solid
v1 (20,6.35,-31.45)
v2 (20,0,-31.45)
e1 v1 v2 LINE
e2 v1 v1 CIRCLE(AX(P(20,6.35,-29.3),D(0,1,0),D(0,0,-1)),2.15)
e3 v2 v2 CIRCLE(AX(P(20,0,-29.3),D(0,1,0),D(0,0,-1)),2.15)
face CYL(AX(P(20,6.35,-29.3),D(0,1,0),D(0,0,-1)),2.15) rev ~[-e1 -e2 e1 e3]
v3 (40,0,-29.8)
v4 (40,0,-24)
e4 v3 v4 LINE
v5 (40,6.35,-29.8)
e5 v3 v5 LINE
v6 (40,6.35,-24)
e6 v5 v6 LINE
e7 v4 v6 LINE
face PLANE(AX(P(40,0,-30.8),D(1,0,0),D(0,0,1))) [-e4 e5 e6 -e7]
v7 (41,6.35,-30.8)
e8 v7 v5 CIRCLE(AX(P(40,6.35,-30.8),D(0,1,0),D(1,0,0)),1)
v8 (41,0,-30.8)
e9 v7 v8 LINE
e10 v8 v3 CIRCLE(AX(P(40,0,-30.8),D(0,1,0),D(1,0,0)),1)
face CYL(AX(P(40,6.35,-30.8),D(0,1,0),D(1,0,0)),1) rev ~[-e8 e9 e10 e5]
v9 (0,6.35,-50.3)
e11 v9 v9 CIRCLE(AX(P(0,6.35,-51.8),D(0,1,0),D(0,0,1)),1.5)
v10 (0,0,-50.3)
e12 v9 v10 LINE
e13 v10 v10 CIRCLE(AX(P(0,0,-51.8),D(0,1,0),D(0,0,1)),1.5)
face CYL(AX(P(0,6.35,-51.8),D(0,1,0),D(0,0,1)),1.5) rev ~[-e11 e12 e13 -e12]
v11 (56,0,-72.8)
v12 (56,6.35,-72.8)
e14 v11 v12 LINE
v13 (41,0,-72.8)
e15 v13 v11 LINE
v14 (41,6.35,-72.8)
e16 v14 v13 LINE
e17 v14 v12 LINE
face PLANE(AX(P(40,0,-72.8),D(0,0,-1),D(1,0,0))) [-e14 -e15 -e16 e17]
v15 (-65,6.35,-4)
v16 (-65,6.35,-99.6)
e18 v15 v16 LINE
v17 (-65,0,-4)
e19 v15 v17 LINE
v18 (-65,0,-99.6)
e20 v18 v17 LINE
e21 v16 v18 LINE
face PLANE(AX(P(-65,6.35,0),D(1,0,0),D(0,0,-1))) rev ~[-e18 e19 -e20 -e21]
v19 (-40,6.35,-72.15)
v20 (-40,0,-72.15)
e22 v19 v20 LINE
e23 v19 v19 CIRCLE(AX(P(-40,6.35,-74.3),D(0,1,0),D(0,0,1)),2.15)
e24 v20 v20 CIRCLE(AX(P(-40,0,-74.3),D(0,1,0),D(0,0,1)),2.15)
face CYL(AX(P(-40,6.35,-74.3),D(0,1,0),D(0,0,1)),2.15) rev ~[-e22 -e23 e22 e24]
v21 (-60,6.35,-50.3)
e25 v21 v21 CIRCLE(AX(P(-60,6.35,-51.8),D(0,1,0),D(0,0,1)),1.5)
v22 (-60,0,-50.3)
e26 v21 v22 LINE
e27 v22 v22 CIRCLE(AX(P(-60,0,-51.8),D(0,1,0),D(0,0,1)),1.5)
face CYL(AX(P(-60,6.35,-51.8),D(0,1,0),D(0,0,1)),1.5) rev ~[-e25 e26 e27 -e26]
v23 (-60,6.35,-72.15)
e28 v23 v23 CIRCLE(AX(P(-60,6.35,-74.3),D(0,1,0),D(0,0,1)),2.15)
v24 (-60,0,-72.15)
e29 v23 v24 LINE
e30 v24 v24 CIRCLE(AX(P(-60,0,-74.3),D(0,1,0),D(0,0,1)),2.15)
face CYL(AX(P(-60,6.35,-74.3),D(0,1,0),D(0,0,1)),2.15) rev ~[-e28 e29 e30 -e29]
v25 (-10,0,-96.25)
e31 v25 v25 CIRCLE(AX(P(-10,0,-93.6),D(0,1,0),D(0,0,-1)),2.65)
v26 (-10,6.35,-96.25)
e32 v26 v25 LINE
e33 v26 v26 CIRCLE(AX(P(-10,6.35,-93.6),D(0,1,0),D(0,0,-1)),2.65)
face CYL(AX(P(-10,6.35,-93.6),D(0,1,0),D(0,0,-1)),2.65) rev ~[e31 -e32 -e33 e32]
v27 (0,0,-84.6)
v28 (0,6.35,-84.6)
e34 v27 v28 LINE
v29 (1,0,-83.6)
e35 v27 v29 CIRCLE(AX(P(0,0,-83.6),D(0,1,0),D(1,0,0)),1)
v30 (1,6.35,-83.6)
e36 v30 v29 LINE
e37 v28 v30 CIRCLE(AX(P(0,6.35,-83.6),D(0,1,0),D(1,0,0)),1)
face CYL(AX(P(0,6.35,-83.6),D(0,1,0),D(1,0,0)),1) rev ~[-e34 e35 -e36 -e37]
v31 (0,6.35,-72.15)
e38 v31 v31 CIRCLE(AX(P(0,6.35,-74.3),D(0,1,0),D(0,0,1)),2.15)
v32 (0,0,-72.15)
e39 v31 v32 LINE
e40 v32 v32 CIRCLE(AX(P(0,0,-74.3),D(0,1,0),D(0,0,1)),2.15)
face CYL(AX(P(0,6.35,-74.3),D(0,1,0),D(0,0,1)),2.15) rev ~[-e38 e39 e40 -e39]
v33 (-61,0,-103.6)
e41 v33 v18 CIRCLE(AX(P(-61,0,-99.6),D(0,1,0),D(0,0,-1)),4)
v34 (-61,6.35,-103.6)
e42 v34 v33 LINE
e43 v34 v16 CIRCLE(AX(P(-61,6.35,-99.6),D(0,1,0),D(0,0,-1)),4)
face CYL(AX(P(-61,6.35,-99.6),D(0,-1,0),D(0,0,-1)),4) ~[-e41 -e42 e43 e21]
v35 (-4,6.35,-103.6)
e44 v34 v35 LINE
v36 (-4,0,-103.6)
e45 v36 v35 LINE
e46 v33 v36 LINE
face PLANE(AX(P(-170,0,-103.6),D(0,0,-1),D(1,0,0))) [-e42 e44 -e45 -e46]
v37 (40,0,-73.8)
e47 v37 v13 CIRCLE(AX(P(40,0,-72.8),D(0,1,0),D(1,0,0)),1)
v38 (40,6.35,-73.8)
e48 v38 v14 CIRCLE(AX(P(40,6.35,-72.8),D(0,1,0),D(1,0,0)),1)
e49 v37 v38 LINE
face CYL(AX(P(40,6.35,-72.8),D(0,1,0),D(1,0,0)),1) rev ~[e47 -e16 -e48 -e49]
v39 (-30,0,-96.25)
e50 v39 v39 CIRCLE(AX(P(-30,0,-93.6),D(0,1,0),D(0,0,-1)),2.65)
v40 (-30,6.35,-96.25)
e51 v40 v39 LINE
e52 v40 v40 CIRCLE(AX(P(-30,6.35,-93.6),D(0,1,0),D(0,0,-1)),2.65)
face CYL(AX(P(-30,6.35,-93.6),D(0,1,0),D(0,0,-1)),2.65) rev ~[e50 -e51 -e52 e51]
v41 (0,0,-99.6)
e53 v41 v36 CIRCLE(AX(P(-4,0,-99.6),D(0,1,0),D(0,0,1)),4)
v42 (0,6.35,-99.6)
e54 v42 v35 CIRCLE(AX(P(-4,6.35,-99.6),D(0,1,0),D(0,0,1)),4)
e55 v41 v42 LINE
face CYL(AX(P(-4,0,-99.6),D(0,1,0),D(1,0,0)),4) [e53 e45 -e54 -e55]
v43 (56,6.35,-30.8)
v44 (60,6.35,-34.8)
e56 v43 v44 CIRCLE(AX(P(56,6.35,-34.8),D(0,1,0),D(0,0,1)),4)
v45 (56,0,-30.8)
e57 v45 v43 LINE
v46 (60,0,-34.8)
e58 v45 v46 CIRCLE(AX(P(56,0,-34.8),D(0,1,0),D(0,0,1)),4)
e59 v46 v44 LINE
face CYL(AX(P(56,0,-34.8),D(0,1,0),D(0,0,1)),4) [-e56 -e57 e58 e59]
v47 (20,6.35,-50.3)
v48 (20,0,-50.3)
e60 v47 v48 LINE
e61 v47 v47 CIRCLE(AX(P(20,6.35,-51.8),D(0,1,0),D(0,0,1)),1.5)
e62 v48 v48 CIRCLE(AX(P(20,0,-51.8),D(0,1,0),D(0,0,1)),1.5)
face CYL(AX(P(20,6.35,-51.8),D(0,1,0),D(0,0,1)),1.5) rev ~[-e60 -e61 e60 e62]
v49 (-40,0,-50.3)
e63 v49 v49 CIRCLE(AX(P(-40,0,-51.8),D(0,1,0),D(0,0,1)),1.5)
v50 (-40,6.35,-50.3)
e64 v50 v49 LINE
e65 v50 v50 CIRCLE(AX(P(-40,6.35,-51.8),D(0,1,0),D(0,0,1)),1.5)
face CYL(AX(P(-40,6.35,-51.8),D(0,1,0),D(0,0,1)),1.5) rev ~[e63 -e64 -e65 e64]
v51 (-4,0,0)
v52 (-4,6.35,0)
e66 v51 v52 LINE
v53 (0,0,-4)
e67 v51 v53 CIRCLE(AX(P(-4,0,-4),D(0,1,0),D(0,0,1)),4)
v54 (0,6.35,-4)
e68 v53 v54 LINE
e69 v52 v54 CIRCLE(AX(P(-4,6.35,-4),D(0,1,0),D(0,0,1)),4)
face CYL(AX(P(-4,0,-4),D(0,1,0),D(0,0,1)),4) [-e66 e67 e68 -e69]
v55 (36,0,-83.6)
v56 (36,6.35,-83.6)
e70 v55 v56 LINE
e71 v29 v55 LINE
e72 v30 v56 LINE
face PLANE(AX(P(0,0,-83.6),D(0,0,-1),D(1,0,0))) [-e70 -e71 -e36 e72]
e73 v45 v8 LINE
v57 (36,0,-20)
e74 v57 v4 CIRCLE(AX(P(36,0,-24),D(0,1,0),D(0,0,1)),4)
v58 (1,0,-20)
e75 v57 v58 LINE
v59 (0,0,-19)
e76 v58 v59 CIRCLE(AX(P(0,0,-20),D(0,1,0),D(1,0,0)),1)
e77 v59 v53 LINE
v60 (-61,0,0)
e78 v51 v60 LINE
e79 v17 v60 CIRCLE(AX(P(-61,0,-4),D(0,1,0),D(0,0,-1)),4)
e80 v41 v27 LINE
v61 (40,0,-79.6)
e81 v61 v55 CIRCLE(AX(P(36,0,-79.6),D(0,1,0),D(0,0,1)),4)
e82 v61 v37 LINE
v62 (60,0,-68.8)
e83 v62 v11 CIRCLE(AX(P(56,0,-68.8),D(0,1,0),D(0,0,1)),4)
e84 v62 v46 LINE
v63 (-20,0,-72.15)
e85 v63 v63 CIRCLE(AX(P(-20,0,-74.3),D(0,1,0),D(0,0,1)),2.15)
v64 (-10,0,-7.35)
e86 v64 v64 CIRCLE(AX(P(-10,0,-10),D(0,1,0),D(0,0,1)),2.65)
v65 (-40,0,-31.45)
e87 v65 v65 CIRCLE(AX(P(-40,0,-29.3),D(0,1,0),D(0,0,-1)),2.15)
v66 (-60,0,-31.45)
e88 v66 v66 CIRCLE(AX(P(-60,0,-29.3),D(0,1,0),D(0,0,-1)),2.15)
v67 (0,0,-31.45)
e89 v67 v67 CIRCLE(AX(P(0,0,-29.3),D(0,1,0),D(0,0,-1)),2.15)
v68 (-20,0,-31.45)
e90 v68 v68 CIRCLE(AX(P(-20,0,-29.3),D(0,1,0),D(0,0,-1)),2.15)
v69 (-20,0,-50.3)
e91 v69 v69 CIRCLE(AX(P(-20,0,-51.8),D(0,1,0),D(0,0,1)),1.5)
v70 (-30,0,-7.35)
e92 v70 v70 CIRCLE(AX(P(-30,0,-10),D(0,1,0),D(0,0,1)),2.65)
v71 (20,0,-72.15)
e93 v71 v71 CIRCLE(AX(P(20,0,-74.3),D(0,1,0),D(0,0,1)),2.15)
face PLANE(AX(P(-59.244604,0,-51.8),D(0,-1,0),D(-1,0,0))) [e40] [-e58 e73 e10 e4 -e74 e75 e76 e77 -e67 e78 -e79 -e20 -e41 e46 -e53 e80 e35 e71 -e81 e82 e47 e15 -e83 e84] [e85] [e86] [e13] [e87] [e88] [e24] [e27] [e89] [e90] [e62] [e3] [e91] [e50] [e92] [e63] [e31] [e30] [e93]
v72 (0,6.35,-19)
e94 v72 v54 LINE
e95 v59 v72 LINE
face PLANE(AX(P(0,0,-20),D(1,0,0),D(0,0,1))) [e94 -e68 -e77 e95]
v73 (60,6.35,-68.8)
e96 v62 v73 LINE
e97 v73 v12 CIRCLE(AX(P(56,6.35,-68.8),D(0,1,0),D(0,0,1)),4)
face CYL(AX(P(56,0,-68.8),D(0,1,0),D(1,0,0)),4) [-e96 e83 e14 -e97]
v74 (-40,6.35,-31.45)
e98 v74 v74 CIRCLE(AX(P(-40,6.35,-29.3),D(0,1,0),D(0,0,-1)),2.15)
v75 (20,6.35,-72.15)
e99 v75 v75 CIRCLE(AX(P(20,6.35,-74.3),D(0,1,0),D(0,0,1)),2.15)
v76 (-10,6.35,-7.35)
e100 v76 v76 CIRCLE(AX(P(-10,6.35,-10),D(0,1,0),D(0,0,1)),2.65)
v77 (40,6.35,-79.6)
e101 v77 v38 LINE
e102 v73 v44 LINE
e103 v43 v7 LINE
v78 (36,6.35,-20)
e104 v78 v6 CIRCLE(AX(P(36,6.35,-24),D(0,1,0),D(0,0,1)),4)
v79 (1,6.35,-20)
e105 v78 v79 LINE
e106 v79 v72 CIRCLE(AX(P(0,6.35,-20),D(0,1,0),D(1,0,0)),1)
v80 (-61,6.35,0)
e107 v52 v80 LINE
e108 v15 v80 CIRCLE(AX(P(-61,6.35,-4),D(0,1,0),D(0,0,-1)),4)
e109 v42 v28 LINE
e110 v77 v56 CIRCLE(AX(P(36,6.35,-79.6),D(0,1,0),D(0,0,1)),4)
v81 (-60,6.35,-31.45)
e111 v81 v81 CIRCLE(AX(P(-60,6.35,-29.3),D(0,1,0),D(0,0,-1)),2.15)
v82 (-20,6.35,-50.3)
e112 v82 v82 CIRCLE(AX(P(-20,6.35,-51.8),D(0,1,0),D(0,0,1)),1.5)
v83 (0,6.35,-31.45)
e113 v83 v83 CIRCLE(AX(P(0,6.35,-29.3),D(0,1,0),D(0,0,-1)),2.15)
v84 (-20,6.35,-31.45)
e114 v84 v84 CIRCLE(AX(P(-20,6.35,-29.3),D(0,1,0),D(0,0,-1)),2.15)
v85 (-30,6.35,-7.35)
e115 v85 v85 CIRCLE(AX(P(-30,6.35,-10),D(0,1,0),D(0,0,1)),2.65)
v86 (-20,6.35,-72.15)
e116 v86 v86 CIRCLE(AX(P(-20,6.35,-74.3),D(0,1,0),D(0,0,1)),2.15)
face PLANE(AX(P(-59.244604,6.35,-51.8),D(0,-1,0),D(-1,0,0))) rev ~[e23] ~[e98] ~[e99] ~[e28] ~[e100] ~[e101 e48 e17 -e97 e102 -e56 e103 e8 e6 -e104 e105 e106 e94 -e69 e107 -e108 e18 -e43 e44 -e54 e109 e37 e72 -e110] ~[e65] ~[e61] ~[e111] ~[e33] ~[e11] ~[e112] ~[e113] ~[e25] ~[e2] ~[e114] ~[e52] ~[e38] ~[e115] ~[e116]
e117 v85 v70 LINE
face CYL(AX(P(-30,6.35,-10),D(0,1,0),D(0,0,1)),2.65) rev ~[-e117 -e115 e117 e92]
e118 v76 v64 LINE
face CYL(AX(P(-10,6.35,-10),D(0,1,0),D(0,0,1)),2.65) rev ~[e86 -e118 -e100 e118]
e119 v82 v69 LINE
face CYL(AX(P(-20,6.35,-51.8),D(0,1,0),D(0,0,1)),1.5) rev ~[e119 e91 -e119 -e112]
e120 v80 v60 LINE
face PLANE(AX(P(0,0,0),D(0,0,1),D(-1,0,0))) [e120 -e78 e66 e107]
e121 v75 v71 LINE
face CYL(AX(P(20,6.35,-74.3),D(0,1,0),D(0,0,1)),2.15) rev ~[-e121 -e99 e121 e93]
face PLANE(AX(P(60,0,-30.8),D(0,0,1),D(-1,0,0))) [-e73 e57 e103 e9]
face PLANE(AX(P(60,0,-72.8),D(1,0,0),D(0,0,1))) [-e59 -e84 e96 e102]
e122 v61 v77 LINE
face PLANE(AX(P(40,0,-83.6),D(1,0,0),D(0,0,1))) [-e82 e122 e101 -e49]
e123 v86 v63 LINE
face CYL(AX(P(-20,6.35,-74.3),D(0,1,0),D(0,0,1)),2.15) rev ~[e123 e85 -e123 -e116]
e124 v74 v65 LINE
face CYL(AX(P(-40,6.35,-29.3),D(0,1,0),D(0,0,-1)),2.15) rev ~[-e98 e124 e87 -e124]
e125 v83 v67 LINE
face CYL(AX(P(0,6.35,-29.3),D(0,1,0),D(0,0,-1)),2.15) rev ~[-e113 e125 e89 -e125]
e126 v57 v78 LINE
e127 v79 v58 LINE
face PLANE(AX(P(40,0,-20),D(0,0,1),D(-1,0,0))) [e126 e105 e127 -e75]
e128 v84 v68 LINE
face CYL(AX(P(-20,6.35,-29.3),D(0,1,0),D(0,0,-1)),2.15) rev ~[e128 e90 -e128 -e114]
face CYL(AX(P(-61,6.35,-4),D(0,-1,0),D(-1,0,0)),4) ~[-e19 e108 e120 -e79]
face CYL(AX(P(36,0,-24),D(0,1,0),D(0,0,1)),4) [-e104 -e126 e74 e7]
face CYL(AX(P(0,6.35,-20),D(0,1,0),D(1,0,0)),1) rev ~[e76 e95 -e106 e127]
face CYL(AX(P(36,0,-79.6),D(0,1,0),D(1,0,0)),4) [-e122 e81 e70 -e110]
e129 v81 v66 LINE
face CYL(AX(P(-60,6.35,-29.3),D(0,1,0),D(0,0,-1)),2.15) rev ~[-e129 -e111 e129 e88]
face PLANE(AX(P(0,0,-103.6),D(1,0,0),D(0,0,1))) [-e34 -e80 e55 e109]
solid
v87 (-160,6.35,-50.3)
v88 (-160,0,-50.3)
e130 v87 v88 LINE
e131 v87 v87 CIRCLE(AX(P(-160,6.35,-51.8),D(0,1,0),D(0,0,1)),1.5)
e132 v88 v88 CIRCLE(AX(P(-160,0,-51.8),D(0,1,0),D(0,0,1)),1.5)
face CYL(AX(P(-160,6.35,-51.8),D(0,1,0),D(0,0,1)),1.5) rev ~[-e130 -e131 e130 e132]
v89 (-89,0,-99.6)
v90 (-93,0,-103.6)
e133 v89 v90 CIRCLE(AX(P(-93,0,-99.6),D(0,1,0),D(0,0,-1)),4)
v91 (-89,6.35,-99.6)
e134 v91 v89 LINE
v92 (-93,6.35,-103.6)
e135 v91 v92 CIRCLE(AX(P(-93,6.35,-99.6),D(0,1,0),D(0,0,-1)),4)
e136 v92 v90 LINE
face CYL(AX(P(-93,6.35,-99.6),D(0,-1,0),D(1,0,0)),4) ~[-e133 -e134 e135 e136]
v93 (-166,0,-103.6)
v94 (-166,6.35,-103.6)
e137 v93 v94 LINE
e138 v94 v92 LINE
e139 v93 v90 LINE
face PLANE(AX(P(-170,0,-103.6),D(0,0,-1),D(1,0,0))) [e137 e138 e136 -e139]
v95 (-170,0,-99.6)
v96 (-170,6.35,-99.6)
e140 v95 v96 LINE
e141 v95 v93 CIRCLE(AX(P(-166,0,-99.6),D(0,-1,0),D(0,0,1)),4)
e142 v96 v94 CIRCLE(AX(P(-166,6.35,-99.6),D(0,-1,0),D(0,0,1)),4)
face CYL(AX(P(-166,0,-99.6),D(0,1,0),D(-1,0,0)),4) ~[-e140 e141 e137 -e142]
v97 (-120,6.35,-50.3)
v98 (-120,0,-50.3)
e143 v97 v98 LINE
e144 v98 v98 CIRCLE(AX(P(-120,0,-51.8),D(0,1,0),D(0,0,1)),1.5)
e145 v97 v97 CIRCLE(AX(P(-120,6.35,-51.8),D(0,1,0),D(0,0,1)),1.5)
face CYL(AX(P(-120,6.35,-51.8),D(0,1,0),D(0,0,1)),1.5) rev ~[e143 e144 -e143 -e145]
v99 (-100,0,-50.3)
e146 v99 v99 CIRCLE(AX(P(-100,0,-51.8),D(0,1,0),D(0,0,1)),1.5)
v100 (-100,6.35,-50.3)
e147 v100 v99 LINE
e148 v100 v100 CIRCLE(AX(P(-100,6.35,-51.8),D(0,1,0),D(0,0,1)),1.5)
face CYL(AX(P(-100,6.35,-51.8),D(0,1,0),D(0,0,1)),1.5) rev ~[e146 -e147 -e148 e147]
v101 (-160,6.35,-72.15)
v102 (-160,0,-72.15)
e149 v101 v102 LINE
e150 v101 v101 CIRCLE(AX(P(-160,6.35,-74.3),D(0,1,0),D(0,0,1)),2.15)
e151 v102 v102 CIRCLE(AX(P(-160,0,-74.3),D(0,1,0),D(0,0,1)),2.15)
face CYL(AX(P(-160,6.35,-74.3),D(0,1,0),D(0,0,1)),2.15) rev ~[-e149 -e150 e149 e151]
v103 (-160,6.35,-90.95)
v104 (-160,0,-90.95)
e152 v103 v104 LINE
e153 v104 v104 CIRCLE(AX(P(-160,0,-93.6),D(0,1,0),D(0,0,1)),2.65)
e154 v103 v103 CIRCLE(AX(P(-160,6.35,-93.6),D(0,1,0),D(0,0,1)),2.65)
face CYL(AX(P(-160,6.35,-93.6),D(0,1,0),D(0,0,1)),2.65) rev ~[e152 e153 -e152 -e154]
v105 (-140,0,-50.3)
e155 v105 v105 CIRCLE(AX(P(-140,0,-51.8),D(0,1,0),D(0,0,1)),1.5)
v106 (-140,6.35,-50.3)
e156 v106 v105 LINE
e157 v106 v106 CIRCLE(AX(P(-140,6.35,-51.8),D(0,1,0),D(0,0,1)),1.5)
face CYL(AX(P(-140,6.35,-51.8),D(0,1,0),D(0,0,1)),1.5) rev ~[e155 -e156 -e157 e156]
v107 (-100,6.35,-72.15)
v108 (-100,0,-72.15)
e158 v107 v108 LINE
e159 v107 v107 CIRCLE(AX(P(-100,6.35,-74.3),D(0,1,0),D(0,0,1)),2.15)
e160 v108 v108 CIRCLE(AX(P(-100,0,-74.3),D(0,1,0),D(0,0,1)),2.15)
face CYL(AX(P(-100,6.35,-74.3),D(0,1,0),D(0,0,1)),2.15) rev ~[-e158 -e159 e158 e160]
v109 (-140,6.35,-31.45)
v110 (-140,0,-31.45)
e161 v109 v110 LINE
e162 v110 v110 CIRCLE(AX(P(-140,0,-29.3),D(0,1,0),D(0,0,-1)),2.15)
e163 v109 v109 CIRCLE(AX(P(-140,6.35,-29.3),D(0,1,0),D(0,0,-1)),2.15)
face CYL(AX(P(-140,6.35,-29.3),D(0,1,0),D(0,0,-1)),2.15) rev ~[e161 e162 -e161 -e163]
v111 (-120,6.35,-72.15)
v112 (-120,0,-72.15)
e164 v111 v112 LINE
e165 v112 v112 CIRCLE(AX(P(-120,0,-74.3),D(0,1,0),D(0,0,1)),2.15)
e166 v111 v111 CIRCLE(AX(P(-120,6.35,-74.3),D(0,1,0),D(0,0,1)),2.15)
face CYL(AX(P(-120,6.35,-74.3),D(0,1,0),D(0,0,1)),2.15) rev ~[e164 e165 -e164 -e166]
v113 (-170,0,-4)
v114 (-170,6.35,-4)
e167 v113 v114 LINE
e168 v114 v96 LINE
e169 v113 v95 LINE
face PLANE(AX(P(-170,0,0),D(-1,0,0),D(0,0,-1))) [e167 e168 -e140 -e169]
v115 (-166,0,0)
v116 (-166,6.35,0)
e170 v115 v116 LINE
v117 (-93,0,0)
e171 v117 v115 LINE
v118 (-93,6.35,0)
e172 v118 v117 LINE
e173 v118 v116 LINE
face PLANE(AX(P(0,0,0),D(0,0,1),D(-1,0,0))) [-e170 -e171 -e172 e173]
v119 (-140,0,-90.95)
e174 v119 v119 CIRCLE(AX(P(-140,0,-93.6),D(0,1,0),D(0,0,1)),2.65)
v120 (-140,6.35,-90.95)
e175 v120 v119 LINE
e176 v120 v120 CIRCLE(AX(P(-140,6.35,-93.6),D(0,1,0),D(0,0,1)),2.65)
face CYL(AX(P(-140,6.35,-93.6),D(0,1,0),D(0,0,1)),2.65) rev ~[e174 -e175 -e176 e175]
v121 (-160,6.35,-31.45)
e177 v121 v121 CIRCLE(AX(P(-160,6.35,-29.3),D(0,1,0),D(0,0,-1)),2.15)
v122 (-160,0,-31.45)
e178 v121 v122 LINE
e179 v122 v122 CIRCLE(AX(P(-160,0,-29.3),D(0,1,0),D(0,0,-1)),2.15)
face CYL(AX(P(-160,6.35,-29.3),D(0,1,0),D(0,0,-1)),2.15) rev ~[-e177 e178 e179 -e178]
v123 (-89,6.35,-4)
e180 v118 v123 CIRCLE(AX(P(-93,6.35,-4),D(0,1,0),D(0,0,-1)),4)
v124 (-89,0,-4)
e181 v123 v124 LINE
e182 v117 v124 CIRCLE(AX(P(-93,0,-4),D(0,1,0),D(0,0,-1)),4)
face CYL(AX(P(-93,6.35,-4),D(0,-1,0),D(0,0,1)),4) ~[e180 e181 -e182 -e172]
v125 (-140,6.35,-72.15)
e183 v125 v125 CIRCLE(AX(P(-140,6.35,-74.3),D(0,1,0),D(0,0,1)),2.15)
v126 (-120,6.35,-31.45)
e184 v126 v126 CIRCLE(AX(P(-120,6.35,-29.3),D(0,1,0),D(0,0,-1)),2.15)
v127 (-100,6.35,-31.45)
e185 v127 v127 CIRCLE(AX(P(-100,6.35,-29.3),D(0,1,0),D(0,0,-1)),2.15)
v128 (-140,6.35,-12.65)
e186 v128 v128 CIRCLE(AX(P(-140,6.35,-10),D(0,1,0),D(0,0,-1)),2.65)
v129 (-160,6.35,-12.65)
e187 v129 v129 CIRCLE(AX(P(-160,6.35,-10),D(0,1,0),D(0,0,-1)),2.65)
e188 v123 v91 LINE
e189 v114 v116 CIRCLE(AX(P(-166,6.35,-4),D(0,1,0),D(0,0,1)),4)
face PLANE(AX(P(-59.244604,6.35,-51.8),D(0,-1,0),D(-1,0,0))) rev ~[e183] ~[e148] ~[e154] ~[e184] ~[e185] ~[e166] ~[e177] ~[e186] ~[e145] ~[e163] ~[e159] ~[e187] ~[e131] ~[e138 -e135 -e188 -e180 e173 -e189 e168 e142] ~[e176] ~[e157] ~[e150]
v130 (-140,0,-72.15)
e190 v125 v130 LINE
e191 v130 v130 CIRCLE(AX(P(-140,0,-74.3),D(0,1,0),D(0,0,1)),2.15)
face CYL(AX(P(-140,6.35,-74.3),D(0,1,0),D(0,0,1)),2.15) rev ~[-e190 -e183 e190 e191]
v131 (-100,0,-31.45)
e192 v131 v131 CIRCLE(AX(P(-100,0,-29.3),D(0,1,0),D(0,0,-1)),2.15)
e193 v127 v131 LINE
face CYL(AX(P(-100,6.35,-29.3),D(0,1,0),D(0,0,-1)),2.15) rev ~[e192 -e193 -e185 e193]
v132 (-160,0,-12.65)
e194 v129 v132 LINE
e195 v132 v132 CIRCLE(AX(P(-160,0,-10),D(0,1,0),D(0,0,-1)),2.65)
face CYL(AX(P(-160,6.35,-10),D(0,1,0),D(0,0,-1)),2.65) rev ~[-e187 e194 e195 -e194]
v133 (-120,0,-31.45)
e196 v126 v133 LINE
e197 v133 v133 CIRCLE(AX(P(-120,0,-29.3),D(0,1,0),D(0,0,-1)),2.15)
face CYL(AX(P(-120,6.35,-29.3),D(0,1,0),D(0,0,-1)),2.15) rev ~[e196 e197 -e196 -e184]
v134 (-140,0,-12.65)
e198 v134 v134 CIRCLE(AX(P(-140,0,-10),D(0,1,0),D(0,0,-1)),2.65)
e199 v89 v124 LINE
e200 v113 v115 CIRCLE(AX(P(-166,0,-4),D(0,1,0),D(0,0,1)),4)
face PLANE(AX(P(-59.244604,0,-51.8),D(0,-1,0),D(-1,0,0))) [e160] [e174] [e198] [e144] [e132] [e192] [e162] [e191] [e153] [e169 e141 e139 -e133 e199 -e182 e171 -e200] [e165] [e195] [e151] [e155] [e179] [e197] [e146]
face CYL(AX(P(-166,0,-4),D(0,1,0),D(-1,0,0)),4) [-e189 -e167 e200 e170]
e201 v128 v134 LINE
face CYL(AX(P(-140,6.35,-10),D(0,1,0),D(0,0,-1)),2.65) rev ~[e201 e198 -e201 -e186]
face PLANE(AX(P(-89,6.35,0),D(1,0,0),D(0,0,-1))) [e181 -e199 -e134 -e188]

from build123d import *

# Parameters (mm, degrees)
BOSS_EXTRUDE1_DEPTH = 6.35
SKETCH2_R           = 2.65
SKETCH2_R_2         = 2.15
SKETCH2_R_3         = 1.5
CUT_EXTRUDE1_DEPTH  = 200.181531523
SKETCH3_R           = 1
CUT_EXTRUDE2_DEPTH  = 200.181531523
SKETCH4_W           = 24
SKETCH4_H           = 103.6
CUT_EXTRUDE3_DEPTH  = 10
FILLET1_R           = 4
FILLET2_R           = 4


with BuildPart() as part:
    # Sketch1 → Boss-Extrude1 (new body)
    with BuildSketch(Plane(origin=(0, 0, 0), x_dir=(1, 0, 0), z_dir=(0, 1, 0))):
        Polygon((0, 103.6), (0, 83.6), (40, 83.6), (40, 72.8), (60, 72.8), (60, 30.8), (40, 30.8), (40, 20), (0, 20), (0, 0), (-170, 0), (-170, 103.6), align=None)
    extrude(amount=BOSS_EXTRUDE1_DEPTH)

    # Sketch2 → Cut-Extrude1 (cut, through all)
    with BuildSketch(Plane(origin=(0, 6.35, 0), x_dir=(1, 0, 0), z_dir=(0, 1, 0))):
        with Locations(Location((-160, 93.6, 0), (0, 0, 270))):
            Circle(SKETCH2_R)
        with Locations(Location((-140, 93.6, 0), (0, 0, 270))):
            Circle(SKETCH2_R)
        with Locations(Location((-30, 93.6, 0), (0, 0, 90))):
            Circle(SKETCH2_R)
        with Locations(Location((-10, 93.6, 0), (0, 0, 90))):
            Circle(SKETCH2_R)
        with Locations(Location((-140, 10, 0), (0, 0, 90))):
            Circle(SKETCH2_R)
        with Locations(Location((-160, 10, 0), (0, 0, 90))):
            Circle(SKETCH2_R)
        with Locations(Location((-30, 10, 0), (0, 0, 270))):
            Circle(SKETCH2_R)
        with Locations(Location((-10, 10, 0), (0, 0, 270))):
            Circle(SKETCH2_R)
        with Locations(Location((-85, 93.6, 0), (0, 0, 270))):
            Circle(SKETCH2_R)
        with Locations(Location((-85, 10, 0), (0, 0, 90))):
            Circle(SKETCH2_R)
        with Locations(Location((-160, 74.3, 0), (0, 0, 270))):
            Circle(SKETCH2_R_2)
        with Locations(Location((-140, 74.3, 0), (0, 0, 270))):
            Circle(SKETCH2_R_2)
        with Locations(Location((-120, 74.3, 0), (0, 0, 270))):
            Circle(SKETCH2_R_2)
        with Locations(Location((-100, 74.3, 0), (0, 0, 270))):
            Circle(SKETCH2_R_2)
        with Locations(Location((-80, 74.3, 0), (0, 0, 270))):
            Circle(SKETCH2_R_2)
        with Locations(Location((-60, 74.3, 0), (0, 0, 270))):
            Circle(SKETCH2_R_2)
        with Locations(Location((-40, 74.3, 0), (0, 0, 270))):
            Circle(SKETCH2_R_2)
        with Locations(Location((-20, 74.3, 0), (0, 0, 270))):
            Circle(SKETCH2_R_2)
        with Locations(Location((0, 74.3, 0), (0, 0, 270))):
            Circle(SKETCH2_R_2)
        with Locations(Location((0, 29.3, 0), (0, 0, 90))):
            Circle(SKETCH2_R_2)
        with Locations(Location((-20, 29.3, 0), (0, 0, 90))):
            Circle(SKETCH2_R_2)
        with Locations(Location((-40, 29.3, 0), (0, 0, 90))):
            Circle(SKETCH2_R_2)
        with Locations(Location((-60, 29.3, 0), (0, 0, 90))):
            Circle(SKETCH2_R_2)
        with Locations(Location((-80, 29.3, 0), (0, 0, 90))):
            Circle(SKETCH2_R_2)
        with Locations(Location((-100, 29.3, 0), (0, 0, 90))):
            Circle(SKETCH2_R_2)
        with Locations(Location((-120, 29.3, 0), (0, 0, 90))):
            Circle(SKETCH2_R_2)
        with Locations(Location((-140, 29.3, 0), (0, 0, 90))):
            Circle(SKETCH2_R_2)
        with Locations(Location((-160, 29.3, 0), (0, 0, 90))):
            Circle(SKETCH2_R_2)
        with Locations(Location((-140, 51.8, 0), (0, 0, 270))):
            Circle(SKETCH2_R_3)
        with Locations(Location((-120, 51.8, 0), (0, 0, 270))):
            Circle(SKETCH2_R_3)
        with Locations(Location((-100, 51.8, 0), (0, 0, 270))):
            Circle(SKETCH2_R_3)
        with Locations(Location((-80, 51.8, 0), (0, 0, 270))):
            Circle(SKETCH2_R_3)
        with Locations(Location((-60, 51.8, 0), (0, 0, 270))):
            Circle(SKETCH2_R_3)
        with Locations(Location((-40, 51.8, 0), (0, 0, 270))):
            Circle(SKETCH2_R_3)
        with Locations(Location((-20, 51.8, 0), (0, 0, 270))):
            Circle(SKETCH2_R_3)
        with Locations(Location((0, 51.8, 0), (0, 0, 270))):
            Circle(SKETCH2_R_3)
        with Locations(Location((20, 74.3, 0), (0, 0, 270))):
            Circle(SKETCH2_R_2)
        with Locations(Location((20, 29.3, 0), (0, 0, 90))):
            Circle(SKETCH2_R_2)
        with Locations(Location((20, 51.8, 0), (0, 0, 270))):
            Circle(SKETCH2_R_3)
        with Locations(Location((-160, 51.8, 0), (0, 0, 270))):
            Circle(SKETCH2_R_3)
    extrude(amount=-CUT_EXTRUDE1_DEPTH, mode=Mode.SUBTRACT)

    # Sketch3 → Cut-Extrude2 (cut, through all)
    with BuildSketch(Plane(origin=(0, 6.35, 0), x_dir=(1, 0, 0), z_dir=(0, 1, 0))):
        with Locations((0, 83.6)):
            Circle(SKETCH3_R)
        with Locations((0, 20)):
            Circle(SKETCH3_R)
        with Locations((40, 30.8)):
            Circle(SKETCH3_R)
        with Locations((40, 72.8)):
            Circle(SKETCH3_R)
    extrude(amount=-CUT_EXTRUDE2_DEPTH, mode=Mode.SUBTRACT)

    # Sketch4 → Cut-Extrude3 (cut)
    with BuildSketch(Plane(origin=(0, 6.35, 0), x_dir=(1, 0, 0), z_dir=(0, 1, 0))):
        with Locations((-77, 51.8)):
            Rectangle(SKETCH4_W, SKETCH4_H)
    extrude(amount=-CUT_EXTRUDE3_DEPTH, mode=Mode.SUBTRACT)


with BuildPart() as cut_extrude3_piece_1:
    # of the separate pieces the step leaves, piece 1, a body of its own (cut_extrude3_pieces)
    add(part.part.solids().sort_by_distance((0, 0, -103.6))[0])

    # Fillet1
    fillet1_edges = [cut_extrude3_piece_1.edges().sort_by_distance(p)[0] for p in [
        (0, 3.175, 0),
        (0, 3.175, -103.6),
        (40, 3.175, -83.6),
        (60, 3.175, -72.8),
        (60, 3.175, -30.8),
        (40, 3.175, -20),
        (-65, 3.175, -103.6),
        (-65, 3.175, 0),
    ]]
    fillet(fillet1_edges, radius=FILLET1_R)


with BuildPart() as cut_extrude3_piece_2:
    # of the separate pieces the step leaves, piece 2, a body of its own (cut_extrude3_pieces)
    add(part.part.solids().sort_by_distance((-170, 0, 0))[0])

    # Fillet2
    fillet2_edges = [cut_extrude3_piece_2.edges().sort_by_distance(p)[0] for p in [
        (-89, 3.175, 0),
        (-170, 3.175, 0),
        (-170, 3.175, -103.6),
        (-89, 3.175, -103.6),
    ]]
    fillet(fillet2_edges, radius=FILLET2_R)


solid = Compound([cut_extrude3_piece_1.part, cut_extrude3_piece_2.part])
